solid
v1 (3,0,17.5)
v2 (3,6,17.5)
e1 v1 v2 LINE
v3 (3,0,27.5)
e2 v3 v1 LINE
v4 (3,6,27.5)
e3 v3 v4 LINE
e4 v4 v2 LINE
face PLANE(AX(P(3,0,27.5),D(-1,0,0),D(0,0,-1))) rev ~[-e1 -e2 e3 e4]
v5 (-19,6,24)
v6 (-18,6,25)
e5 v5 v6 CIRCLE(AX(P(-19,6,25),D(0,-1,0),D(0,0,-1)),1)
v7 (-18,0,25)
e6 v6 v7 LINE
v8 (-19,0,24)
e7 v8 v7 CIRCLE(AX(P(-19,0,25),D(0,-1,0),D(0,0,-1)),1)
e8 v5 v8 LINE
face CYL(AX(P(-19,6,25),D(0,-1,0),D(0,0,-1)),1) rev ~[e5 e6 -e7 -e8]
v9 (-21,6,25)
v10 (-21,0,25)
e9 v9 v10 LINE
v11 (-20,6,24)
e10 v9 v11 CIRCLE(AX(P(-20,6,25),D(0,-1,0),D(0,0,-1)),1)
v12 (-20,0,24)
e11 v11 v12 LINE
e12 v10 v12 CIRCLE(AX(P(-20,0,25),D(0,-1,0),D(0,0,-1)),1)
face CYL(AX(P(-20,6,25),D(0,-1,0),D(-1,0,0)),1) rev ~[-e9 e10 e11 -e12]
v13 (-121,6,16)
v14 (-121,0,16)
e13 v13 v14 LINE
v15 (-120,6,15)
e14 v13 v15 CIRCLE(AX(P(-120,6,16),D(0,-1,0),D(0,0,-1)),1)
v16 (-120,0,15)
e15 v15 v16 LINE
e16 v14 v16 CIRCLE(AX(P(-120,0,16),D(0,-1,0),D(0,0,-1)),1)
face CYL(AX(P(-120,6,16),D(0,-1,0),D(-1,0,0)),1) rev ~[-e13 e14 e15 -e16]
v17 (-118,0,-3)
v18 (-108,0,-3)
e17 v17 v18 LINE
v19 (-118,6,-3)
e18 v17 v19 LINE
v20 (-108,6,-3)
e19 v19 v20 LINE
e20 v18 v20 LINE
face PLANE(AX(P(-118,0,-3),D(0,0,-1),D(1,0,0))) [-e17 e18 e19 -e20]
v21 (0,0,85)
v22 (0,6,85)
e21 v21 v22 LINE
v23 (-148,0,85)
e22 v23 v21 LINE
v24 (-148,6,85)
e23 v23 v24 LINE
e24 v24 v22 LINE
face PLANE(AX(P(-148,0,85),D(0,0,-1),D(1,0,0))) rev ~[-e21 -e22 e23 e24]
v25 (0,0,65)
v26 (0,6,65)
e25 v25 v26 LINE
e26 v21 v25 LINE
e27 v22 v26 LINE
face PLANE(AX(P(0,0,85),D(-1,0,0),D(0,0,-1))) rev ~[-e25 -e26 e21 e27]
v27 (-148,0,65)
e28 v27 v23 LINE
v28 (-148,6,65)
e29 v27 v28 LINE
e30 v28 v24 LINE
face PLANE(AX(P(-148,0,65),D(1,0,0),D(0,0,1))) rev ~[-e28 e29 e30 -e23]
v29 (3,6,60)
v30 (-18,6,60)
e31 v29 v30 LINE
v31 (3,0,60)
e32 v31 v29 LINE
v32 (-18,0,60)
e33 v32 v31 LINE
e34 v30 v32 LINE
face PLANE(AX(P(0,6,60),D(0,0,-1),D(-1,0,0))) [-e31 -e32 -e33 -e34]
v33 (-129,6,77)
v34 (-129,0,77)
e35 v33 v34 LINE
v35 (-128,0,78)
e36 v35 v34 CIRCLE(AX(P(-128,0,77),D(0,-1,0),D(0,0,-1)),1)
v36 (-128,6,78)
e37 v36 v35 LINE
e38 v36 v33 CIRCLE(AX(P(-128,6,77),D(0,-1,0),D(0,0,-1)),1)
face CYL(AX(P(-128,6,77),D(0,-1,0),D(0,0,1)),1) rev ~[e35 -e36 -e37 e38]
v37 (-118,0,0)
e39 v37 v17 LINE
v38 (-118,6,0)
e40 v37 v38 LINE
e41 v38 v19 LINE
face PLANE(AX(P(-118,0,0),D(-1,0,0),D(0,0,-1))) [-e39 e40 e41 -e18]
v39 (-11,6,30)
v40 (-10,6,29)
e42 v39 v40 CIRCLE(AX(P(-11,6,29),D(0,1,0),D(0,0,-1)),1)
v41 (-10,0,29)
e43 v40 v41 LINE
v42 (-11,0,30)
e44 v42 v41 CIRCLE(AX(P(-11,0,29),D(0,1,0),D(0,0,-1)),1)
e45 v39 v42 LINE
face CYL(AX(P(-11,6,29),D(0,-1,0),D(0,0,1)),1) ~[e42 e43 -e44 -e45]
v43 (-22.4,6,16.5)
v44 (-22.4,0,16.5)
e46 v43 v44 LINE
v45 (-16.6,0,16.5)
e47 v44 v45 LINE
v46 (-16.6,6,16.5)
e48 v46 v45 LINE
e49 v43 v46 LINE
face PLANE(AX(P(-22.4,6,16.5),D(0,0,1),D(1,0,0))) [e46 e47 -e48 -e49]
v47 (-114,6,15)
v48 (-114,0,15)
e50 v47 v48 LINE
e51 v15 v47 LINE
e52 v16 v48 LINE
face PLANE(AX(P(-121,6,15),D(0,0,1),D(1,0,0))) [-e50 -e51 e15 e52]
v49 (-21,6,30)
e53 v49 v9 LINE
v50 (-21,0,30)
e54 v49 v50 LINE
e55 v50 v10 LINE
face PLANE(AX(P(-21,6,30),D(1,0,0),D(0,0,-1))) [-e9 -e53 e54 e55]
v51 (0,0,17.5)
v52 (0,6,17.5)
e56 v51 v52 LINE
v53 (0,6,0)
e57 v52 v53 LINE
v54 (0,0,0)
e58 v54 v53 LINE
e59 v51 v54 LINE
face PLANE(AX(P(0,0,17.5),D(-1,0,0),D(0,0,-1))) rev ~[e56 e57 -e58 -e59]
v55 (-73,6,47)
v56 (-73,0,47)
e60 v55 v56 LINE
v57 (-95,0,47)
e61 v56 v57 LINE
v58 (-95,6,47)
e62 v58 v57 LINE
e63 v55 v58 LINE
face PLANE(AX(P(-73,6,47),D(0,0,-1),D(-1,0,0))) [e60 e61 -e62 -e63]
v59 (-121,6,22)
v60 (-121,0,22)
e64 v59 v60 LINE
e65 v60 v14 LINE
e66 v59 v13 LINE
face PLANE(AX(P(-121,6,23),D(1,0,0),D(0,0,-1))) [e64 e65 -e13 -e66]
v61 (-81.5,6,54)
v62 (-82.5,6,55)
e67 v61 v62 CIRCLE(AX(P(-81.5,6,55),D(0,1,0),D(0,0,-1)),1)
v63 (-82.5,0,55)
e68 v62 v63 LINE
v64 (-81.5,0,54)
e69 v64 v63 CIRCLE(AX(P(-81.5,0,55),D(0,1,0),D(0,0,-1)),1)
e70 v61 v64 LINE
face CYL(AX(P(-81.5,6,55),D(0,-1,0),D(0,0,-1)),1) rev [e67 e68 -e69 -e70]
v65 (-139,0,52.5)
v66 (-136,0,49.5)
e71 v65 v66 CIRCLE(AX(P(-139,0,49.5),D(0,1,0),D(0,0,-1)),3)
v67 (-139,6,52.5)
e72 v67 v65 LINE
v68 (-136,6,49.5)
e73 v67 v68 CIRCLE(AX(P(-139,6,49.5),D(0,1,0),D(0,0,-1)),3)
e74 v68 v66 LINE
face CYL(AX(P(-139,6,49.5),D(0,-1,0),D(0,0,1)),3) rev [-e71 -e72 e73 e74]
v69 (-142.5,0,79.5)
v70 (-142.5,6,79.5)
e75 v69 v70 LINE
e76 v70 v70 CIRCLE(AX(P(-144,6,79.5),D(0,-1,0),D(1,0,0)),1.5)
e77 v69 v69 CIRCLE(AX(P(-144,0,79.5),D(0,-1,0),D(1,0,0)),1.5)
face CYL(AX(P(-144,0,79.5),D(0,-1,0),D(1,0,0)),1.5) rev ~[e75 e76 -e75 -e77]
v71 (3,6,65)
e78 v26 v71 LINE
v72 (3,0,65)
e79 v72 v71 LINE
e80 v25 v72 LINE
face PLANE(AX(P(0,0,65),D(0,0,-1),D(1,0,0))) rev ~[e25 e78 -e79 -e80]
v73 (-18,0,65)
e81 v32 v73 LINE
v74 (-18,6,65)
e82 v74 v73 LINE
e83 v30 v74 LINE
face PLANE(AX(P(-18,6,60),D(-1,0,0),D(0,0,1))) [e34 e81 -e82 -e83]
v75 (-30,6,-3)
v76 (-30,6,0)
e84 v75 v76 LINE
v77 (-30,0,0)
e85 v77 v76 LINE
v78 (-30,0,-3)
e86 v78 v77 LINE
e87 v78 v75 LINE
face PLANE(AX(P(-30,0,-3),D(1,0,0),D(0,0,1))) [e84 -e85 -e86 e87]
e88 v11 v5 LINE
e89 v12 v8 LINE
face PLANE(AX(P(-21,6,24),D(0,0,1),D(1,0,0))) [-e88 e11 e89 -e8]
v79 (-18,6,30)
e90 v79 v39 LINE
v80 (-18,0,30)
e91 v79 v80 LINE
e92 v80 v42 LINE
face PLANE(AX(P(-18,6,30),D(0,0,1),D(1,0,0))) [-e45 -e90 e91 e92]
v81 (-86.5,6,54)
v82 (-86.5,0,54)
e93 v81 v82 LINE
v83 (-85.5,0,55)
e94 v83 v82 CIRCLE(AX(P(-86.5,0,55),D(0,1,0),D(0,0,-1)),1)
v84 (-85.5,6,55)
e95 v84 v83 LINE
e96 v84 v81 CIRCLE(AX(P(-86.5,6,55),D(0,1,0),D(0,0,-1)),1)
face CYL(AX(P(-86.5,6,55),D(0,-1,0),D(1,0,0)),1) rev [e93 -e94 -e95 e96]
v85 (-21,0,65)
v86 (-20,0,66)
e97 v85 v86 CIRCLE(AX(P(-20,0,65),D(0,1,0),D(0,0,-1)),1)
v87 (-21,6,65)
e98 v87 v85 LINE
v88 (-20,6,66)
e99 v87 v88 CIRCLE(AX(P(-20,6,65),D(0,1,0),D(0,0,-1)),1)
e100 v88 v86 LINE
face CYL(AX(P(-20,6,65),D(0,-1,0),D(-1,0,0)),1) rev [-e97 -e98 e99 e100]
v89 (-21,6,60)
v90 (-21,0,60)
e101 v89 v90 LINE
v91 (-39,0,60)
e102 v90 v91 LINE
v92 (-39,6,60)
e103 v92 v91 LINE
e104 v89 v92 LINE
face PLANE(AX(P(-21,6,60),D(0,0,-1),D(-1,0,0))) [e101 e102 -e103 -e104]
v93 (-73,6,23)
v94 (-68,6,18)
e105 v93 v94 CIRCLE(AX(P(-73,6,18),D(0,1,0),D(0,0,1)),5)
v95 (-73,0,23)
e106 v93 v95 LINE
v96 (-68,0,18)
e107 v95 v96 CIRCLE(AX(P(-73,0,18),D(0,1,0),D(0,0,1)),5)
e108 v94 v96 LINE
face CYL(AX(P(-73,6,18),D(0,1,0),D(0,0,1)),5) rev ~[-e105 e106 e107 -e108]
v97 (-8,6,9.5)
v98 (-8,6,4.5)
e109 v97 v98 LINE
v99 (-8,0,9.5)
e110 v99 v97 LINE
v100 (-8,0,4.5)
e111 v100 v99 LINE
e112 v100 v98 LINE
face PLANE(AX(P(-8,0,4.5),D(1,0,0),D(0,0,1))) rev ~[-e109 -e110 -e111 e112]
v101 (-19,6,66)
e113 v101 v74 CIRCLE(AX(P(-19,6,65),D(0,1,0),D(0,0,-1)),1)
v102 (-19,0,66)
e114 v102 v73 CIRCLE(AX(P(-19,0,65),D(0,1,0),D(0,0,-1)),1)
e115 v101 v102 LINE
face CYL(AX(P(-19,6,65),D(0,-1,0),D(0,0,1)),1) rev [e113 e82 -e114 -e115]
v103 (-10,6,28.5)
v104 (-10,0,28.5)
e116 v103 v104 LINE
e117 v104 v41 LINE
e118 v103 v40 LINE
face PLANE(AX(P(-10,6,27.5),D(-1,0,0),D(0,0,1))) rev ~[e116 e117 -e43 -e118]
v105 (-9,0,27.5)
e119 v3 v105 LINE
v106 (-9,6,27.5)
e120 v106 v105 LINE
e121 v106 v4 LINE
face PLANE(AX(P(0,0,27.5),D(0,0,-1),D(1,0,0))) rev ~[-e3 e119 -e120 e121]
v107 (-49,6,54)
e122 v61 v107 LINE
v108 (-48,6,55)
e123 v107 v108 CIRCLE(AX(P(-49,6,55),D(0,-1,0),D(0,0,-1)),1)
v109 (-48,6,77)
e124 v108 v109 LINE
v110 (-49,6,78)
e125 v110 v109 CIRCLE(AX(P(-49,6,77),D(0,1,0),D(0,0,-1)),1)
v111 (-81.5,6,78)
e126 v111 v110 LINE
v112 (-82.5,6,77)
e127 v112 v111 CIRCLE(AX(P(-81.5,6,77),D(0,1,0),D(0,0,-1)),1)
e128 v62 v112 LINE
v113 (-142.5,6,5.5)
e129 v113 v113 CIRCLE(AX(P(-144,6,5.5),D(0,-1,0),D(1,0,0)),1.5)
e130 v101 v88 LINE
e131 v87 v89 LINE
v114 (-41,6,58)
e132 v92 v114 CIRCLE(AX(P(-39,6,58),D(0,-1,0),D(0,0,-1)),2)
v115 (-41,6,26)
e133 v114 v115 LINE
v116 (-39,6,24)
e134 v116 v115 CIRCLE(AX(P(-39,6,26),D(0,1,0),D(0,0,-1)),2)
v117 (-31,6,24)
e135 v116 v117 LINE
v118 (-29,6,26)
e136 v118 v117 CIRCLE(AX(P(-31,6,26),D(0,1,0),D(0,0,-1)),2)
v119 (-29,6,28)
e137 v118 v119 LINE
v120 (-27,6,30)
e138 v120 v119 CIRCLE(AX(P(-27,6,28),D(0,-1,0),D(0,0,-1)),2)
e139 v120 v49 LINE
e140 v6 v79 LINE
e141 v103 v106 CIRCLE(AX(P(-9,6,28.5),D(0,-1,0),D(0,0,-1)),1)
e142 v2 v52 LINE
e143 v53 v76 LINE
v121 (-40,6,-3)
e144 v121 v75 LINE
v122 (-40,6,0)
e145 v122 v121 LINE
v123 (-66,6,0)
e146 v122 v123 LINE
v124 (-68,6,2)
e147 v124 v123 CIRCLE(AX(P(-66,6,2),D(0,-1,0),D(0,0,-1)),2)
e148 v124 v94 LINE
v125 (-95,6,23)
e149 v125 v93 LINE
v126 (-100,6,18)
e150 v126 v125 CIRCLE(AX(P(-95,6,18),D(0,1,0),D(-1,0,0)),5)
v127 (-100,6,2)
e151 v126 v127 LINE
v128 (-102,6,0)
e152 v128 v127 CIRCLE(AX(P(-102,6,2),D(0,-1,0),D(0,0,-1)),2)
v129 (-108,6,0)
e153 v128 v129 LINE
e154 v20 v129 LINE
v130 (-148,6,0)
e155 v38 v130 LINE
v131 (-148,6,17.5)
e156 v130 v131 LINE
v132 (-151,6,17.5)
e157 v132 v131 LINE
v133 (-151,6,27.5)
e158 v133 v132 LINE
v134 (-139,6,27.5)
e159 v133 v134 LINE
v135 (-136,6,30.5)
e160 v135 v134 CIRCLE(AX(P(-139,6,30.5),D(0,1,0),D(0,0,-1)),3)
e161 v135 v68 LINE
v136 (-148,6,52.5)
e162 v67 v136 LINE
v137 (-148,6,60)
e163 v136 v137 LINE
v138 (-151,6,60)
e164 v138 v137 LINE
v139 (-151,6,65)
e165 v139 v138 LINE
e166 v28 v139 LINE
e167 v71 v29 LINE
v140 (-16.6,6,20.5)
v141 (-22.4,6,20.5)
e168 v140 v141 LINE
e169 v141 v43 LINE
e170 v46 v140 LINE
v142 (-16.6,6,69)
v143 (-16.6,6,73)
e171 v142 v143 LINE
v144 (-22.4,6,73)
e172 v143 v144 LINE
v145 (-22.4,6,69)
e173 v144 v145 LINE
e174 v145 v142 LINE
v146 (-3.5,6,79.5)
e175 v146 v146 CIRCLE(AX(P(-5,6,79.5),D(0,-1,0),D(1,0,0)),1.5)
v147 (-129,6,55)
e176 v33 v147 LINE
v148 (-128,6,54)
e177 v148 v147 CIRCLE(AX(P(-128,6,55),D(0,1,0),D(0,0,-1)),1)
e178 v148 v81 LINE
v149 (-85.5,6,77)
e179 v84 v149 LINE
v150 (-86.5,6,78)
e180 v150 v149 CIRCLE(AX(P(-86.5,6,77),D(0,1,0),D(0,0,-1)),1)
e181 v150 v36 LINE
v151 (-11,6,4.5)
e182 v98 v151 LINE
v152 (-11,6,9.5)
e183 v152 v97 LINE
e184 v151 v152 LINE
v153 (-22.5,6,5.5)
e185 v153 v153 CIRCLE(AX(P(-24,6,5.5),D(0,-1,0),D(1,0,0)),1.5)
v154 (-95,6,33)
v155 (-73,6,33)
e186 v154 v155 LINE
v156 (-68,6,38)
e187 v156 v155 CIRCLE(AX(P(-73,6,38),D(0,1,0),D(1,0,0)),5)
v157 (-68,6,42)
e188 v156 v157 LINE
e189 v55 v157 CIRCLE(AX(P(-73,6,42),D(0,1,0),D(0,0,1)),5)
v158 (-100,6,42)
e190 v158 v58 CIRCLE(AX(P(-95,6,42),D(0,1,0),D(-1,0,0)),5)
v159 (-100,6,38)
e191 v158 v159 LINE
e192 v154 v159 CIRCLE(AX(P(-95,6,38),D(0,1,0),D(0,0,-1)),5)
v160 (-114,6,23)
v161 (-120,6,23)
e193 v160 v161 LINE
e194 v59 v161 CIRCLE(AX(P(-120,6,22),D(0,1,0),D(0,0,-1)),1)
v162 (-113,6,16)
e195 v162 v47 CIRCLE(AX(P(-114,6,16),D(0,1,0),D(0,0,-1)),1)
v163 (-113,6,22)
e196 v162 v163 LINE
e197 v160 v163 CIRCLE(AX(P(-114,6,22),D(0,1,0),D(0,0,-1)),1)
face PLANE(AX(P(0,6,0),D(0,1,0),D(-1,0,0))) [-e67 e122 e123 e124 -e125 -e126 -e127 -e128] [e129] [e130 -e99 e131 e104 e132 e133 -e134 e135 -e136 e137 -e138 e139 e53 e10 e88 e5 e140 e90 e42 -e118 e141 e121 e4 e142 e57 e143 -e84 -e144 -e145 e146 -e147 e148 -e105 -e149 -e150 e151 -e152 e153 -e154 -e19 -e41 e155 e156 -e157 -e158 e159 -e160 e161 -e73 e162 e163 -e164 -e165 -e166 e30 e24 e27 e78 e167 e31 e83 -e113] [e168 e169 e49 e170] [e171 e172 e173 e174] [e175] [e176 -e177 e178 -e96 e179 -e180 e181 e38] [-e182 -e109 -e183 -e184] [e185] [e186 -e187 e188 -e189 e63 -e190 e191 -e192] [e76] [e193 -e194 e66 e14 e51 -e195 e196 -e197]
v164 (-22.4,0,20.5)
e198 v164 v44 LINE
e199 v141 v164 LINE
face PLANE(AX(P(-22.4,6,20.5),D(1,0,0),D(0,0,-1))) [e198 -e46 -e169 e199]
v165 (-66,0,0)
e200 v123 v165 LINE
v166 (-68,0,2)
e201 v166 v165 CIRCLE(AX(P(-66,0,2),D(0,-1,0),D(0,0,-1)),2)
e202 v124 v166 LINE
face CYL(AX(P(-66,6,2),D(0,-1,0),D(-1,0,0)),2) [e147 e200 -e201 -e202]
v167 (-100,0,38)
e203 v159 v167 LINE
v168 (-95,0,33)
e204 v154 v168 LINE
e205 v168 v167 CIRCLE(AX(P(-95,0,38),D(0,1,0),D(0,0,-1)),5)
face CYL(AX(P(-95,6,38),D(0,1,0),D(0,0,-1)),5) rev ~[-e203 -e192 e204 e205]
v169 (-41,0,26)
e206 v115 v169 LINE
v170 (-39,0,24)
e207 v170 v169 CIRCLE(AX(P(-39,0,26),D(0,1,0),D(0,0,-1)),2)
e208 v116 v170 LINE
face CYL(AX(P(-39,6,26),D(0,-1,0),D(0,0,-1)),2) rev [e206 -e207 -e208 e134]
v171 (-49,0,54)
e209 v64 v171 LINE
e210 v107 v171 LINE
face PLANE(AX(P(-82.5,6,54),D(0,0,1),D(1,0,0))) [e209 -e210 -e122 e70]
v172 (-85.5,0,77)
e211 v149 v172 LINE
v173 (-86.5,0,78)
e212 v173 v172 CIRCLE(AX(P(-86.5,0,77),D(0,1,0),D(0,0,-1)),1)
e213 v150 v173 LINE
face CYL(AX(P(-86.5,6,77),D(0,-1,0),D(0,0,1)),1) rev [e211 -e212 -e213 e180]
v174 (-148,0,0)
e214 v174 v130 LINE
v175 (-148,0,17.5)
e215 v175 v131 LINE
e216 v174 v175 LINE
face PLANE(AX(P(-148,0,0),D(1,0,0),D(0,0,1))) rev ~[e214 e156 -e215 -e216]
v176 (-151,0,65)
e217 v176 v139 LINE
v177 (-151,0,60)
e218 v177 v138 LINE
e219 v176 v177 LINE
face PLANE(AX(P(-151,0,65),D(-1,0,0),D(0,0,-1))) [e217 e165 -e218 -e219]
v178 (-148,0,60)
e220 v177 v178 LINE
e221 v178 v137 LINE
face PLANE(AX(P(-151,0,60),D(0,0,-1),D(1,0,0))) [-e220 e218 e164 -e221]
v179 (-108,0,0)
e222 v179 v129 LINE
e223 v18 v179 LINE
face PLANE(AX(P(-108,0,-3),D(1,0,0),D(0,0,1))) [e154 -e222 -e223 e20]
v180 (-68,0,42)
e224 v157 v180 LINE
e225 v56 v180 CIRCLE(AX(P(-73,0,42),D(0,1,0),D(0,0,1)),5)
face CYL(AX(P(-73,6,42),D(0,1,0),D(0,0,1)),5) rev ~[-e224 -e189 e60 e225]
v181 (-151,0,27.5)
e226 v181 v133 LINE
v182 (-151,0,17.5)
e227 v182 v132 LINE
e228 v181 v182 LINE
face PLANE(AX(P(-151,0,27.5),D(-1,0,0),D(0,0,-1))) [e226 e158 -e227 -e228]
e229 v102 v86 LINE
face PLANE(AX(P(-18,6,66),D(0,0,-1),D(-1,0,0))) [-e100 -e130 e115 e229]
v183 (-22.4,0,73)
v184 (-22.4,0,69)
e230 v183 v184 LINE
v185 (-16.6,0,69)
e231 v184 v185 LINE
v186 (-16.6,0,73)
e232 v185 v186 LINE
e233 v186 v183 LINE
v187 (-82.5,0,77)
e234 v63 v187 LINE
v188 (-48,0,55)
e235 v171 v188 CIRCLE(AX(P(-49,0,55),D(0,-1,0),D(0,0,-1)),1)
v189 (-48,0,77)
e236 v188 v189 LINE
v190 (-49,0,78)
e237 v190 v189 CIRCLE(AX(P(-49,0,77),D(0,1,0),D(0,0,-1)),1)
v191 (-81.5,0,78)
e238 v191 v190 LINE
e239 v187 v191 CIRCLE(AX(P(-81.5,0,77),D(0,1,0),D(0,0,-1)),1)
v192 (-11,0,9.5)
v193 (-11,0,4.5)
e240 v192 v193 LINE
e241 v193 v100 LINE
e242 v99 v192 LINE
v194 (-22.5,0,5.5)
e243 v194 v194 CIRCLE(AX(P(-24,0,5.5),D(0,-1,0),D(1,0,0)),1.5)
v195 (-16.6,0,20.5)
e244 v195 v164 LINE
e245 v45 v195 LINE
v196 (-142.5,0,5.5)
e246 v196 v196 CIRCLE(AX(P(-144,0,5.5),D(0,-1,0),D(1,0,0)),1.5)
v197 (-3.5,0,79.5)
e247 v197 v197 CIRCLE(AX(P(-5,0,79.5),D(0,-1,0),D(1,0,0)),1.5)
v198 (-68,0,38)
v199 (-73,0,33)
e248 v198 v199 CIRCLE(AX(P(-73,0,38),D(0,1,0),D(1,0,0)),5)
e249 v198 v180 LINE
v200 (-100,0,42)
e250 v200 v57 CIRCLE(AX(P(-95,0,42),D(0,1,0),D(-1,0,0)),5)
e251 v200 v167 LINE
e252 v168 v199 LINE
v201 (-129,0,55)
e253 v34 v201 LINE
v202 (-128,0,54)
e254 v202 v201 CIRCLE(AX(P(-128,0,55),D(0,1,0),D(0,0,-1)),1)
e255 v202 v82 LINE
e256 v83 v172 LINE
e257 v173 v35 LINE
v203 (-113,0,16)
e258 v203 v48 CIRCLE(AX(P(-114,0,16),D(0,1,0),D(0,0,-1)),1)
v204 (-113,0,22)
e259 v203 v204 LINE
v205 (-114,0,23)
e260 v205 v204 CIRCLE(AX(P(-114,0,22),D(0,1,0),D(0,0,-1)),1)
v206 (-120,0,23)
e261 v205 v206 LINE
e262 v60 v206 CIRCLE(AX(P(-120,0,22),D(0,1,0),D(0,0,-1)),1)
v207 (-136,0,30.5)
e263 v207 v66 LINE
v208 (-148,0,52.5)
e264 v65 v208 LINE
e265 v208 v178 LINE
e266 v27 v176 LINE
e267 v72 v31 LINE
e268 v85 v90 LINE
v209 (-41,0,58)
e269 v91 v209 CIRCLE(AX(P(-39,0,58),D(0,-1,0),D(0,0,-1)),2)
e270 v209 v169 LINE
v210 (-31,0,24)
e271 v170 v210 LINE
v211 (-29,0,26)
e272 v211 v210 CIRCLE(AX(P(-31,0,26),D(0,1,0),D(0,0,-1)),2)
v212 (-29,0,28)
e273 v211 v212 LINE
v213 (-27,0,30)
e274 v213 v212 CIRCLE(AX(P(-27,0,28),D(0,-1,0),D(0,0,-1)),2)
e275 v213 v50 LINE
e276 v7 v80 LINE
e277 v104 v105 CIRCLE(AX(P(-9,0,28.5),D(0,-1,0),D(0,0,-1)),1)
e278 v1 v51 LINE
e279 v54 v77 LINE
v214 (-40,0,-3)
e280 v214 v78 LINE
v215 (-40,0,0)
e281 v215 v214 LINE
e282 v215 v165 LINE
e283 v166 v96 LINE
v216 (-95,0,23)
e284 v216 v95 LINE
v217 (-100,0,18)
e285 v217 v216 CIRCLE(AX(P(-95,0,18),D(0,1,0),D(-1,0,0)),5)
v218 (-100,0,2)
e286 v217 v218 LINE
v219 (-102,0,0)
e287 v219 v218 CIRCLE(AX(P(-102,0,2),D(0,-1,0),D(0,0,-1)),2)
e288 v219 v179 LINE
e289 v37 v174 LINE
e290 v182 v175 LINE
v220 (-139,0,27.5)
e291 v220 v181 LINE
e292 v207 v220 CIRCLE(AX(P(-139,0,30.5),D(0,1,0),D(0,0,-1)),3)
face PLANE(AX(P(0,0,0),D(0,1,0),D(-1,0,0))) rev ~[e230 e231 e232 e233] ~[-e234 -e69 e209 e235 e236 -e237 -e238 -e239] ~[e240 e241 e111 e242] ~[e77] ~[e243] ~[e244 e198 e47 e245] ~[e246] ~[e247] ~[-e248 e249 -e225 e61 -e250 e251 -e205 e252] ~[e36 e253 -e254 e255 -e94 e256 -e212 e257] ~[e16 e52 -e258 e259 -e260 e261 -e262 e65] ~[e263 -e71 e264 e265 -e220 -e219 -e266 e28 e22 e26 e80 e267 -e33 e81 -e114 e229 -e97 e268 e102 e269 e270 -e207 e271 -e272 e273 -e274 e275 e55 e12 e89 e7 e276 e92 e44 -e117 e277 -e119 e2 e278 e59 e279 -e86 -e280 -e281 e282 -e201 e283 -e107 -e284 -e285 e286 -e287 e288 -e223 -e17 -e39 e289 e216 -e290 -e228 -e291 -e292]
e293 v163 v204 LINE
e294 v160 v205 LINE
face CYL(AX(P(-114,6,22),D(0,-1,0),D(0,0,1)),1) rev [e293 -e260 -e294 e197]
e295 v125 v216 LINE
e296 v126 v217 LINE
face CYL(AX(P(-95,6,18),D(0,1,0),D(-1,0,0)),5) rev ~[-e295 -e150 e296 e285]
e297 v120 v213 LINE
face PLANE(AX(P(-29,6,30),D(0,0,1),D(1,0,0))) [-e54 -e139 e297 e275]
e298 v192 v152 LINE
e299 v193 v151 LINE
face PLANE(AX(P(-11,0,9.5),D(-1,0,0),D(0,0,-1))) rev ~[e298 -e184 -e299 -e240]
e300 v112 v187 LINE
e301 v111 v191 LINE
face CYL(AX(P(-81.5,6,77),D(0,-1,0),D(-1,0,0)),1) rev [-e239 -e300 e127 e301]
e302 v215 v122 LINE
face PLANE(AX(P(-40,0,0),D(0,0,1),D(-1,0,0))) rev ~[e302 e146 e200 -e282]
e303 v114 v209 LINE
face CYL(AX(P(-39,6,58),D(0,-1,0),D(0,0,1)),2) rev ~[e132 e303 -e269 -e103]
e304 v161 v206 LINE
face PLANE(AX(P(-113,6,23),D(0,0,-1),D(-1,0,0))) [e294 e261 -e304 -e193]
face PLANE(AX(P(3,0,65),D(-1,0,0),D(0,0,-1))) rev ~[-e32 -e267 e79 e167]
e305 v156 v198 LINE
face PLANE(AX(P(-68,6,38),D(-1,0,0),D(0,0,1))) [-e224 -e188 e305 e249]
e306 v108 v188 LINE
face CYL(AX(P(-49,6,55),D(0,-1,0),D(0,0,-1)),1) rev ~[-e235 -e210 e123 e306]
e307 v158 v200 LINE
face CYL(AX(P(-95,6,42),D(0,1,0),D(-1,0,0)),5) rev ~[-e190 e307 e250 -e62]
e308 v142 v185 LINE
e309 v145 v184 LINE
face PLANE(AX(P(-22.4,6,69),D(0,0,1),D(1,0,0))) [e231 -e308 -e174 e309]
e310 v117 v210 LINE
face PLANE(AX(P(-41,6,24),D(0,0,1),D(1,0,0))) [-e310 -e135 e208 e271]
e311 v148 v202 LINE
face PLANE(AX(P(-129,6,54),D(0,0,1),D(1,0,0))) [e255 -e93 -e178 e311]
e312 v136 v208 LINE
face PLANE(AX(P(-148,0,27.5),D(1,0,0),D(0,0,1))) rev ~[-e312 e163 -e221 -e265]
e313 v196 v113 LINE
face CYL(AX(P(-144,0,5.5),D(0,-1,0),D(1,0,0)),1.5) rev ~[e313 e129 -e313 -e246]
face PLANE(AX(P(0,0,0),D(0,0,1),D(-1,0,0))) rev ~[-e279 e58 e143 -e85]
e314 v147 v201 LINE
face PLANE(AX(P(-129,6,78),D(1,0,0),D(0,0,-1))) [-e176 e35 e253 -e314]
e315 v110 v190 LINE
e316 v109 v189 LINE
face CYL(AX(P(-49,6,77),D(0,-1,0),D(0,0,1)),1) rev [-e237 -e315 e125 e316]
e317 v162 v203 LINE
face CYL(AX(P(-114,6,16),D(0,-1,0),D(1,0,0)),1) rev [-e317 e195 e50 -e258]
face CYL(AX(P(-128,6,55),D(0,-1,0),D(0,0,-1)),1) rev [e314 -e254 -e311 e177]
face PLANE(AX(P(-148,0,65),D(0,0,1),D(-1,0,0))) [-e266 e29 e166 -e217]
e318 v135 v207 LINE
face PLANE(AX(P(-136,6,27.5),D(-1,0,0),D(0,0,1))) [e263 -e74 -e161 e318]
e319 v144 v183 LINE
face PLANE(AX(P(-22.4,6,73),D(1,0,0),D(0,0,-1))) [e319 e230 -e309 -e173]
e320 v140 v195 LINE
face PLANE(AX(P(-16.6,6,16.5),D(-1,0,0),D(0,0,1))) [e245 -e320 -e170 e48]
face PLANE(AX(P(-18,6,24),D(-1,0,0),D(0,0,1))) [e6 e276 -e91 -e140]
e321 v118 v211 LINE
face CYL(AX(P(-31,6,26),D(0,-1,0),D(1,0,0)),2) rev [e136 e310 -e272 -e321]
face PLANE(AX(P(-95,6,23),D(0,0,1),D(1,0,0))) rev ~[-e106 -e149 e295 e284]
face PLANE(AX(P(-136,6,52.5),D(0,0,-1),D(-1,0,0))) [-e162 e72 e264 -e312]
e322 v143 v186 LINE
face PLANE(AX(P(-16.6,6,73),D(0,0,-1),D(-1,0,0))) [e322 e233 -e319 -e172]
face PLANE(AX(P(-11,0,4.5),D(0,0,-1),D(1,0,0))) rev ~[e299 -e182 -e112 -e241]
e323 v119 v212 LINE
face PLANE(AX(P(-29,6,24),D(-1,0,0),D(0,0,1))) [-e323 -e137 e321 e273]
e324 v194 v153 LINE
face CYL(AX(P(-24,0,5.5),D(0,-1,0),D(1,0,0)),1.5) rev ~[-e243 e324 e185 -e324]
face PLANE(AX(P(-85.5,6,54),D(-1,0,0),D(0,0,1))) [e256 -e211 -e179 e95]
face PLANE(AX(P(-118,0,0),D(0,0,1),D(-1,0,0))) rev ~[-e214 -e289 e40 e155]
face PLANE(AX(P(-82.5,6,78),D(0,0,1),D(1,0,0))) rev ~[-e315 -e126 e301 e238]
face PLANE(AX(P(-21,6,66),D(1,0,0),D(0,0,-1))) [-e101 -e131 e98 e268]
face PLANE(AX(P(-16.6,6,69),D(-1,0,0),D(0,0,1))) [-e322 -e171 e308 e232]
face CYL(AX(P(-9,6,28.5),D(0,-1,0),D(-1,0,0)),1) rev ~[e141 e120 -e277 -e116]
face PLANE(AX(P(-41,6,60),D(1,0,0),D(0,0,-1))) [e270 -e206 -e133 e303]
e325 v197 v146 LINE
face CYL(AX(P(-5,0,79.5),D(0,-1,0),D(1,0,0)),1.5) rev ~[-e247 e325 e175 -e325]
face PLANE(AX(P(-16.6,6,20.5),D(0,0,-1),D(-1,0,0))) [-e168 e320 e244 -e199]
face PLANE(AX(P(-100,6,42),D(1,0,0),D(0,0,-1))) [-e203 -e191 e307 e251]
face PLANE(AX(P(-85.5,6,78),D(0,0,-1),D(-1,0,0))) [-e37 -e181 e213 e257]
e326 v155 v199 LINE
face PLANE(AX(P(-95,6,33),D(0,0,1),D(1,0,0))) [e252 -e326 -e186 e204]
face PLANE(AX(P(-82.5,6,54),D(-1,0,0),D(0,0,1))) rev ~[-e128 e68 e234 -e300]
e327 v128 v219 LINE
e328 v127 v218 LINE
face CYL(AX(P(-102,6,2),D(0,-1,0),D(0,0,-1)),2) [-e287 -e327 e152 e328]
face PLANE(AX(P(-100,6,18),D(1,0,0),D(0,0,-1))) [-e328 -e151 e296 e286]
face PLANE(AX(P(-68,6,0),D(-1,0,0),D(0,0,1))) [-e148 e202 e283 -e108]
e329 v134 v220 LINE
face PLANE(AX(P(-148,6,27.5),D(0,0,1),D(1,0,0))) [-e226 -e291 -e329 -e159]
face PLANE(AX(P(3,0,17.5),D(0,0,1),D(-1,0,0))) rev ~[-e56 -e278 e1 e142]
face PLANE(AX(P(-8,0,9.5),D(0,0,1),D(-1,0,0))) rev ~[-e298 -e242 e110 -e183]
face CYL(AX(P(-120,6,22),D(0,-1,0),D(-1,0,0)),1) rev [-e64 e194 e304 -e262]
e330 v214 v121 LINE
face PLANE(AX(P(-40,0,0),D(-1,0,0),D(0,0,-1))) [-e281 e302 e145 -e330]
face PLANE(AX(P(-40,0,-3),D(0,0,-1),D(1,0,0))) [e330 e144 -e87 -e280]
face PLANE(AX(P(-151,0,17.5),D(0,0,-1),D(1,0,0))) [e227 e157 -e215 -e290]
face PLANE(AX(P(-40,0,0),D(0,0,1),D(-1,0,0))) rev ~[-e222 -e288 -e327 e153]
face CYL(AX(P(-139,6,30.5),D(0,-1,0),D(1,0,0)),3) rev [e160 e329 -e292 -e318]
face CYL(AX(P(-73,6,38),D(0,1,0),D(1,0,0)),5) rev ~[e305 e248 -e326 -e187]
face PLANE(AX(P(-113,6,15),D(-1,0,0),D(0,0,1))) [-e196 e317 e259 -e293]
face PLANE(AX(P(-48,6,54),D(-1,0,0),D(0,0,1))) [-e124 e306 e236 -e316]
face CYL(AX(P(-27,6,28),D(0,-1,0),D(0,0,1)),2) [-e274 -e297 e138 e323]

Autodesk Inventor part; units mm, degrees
ref_plane "YZ Plane" through (0, 0, 0) normal (1, 0, 0) x (0, 1, 0)
ref_plane "XZ Plane" through (0, 0, 0) normal (0, 1, 0) x (-1, 0, 0)
ref_plane "XY Plane" through (0, 0, 0) normal (0, 0, 1) x (1, 0, 0)
sketch "Sketch1" plane through (0, 0, 0) normal (0, 1, 0) x (-1, 0, 0)
  line L0 (148, 85) -> (0, 85)
  line L1 (0, 65) -> (-3, 65)
  line L2 (-3, 65) -> (-3, 60)
  line L3 (-3, 60) -> (0, 60)
  line L4 (0, 40) -> (148, 40) construction
  line L5 (0, 27.5) -> (-3, 27.5)
  line L6 (-3, 27.5) -> (-3, 17.5)
  line L7 (-3, 17.5) -> (0, 17.5)
  line L8 (148, 65) -> (151, 65)
  line L9 (151, 65) -> (151, 60)
  line L10 (151, 60) -> (148, 60)
  line L11 (148, 27.5) -> (151, 27.5)
  line L12 (151, 27.5) -> (151, 17.5)
  line L13 (151, 17.5) -> (148, 17.5)
  line L14 (148, 65) -> (148, 85)
  line L15 (148, 0) -> (148, 17.5)
  line L16 (148, 27.5) -> (148, 60)
  line L17 (0, 85) -> (0, 65)
  line L18 (0, 60) -> (0, 27.5)
  line L19 (0, 17.5) -> (0, 0)
  line L20 (40, 0) -> (40, -3)
  line L21 (40, -3) -> (30, -3)
  line L22 (30, -3) -> (30, 0)
  line L23 (118, 0) -> (118, -3)
  line L24 (118, -3) -> (108, -3)
  line L25 (108, -3) -> (108, 0)
  line L26 (0, 0) -> (30, 0)
  line L27 (40, 0) -> (108, 0)
  line L28 (118, 0) -> (148, 0)
  dimension "d0" = 85
  dimension "ChassisLength" = 148
  dimension "L2" = 20
  dimension "d6" = 3
  dimension "L1" = 12.5
  dimension "L3" = 20
  dimension "d41" = 10
  dimension "d42" = 3
  dimension "d44" = 30
  dimension "Small" = 5
  dimension "Large" = 10
extrude "Extrusion1" add sketch "Sketch1" along normal blind 6
sketch "Sketch3" plane through (0, 6, 0) normal (0, 1, 0) x (1, 0, 0)
  line L0 (-148, -85) -> (0, -85) projected
  line L1 (0, 0) -> (-148, 0) projected
  line L2 (-73, -47) -> (-95, -47)
  arc A0 (-73, -47) -> (-68, -42) centre (-73, -42) ccw
  arc A1 (-100, -42) -> (-95, -47) centre (-95, -42) ccw
  line L3 (0, -17.5) -> (0, 0) projected
  line L4 (-108, 0) -> (-108, 3) projected
  line L5 (-68, 0) -> (-100, 0)
  line L6 (-95, -33) -> (-73, -33)
  line L7 (-95, -23) -> (-73, -23)
  line L8 (-100, -42) -> (-100, -38)
  line L9 (-100, -18) -> (-100, 0)
  line L10 (-68, 0) -> (-68, -18)
  line L11 (-68, -38) -> (-68, -42)
  arc A2 (-95, -33) -> (-100, -38) centre (-95, -38) ccw
  arc A3 (-68, -38) -> (-73, -33) centre (-73, -38) ccw
  arc A4 (-100, -18) -> (-95, -23) centre (-95, -18) ccw
  arc A5 (-73, -23) -> (-68, -18) centre (-73, -18) ccw
  line L12 (-148, 0) -> (-148, -17.5) projected
  point P0 (0, -6)
  point P1 (-123, 0)
  dimension "d34" = 38
  dimension "d131" = 5
  dimension "d144" = 33
  dimension "d145" = 10
  dimension "d146" = 5
  dimension "d147" = 5
  dimension "d149" = 32
  dimension "d150" = 5
  dimension "d173" = 48
sketch "Sketch10" plane through (0, 6, 0) normal (0, 1, 0) x (1, 0, 0)
  line L0 (0.0037, -40) -> (-151, -40) construction
  line L1 (0, -27.5) -> (3, -27.5) projected
  line L2 (0, -27.5) -> (0, -60)
  line L3 (0, -60) -> (0, -27.5) projected
  line L4 (0, -60) -> (-18, -60)
  line L5 (-18, -60) -> (-18, -66)
  line L6 (-18, -66) -> (-21, -66)
  line L7 (-21, -66) -> (-21, -60)
  line L8 (-21, -60) -> (-41, -60)
  line L9 (-41, -60) -> (-41, -24)
  line L10 (-41, -24) -> (-29, -24)
  line L11 (-29, -24) -> (-29, -30)
  line L12 (-29, -30) -> (-21, -30)
  line L13 (-21, -30) -> (-21, -24)
  line L14 (-21, -24) -> (-18, -24)
  line L15 (-18, -24) -> (-18, -30)
  line L16 (0, -27.5) -> (-10, -27.5)
  line L17 (-10, -27.5) -> (-10, -30)
  line L18 (-18, -30) -> (-10, -30)
  line L19 (-22.4, -16.5) -> (-16.6, -16.5)
  line L20 (-16.6, -16.5) -> (-16.6, -20.5)
  line L21 (-16.6, -20.5) -> (-22.4, -20.5)
  line L22 (-22.4, -20.5) -> (-22.4, -16.5)
  line L23 (-22.4, -69) -> (-16.6, -69)
  line L24 (-16.6, -69) -> (-16.6, -73)
  line L25 (-16.6, -73) -> (-22.4, -73)
  line L26 (-22.4, -73) -> (-22.4, -69)
  line L27 (-148, -27.5) -> (-136, -27.5)
  line L28 (-136, -27.5) -> (-136, -52.5)
  line L29 (-136, -52.5) -> (-148, -52.5)
  line L30 (-148, -52.5) -> (-148, -27.5)
  line L31 (-148, -60) -> (-151, -60) projected
  point P0 (0, 0)
  point P1 (-151, -27.5)
  point P2 (-19.5, -20.5)
  point P3 (-19.5, -24)
  point P4 (-136, -40)
  dimension "d158" = 12.5
  dimension "d159" = 41
  dimension "d160" = 18
  dimension "d161" = 6
  dimension "d162" = 3
  dimension "d163" = 10
  dimension "d164" = 10
  dimension "d165" = 8
  dimension "d167" = 5.8
  dimension "d168" = 4
  dimension "ServoMount" = 48.5
  dimension "d170" = 3.5
  dimension "d182" = 12
  dimension "d184" = 20
extrude "Extrusion10" cut sketch "Sketch10" against normal through all
sketch "Sketch7" plane through (0, 0, 0) normal (0, -1, 0) x (1, 0, 0)
  line L0 (0, 85) -> (-148, 85) projected
  circle A0 centre (-144, 79.5) radius 1.5
  circle A1 centre (-144, 5.5) radius 1.5
  circle A2 centre (-5, 79.5) radius 1.5
  circle A3 centre (-24, 5.5) radius 1.5
  line L1 (0, 85) -> (0, 65) projected
  dimension "d84" = 3
  dimension "d88" = 3
  dimension "d89" = 74
  dimension "d90" = 3
  dimension "d91" = 139
  dimension "d92" = 3
  dimension "d93" = 19
  dimension "d133" = 5
  dimension "d134" = 5.5
extrude "Extrusion6" cut sketch "Sketch7" against normal through all
extrude "Extrusion8" cut sketch "Sketch3" against normal through all
fillet "Fillet10" radius 2 2 edges at (-68, 3, 0) (-100, 3, 0)
fillet "Fillet11" radius 2 4 edges at (-41, 3, 60) (-41, 3, 24) (-29, 3, 24) (-29, 3, 30)
fillet "Fillet12" radius 1 6 edges at (-21, 3, 24) (-21, 3, 66) (-18, 3, 66) (-18, 3, 24) (-10, 3, 30) (-10, 3, 27.5)
sketch "Sketch11" plane through (0, 6, 0) normal (0, 1, 0) x (1, 0, 0)
  line L0 (-121, -15) -> (-113, -15)
  line L1 (-113, -15) -> (-113, -23)
  line L2 (-113, -23) -> (-121, -23)
  line L3 (-121, -23) -> (-121, -15)
  line L4 (-73, -23) -> (-95, -23) projected
  line L5 (-118, 3) -> (-118, 0) projected
  point P0 (0, 0)
  dimension "d176" = 8
  dimension "d177" = 8
  dimension "d178" = 5
extrude "Extrusion11" cut sketch "Sketch11" against normal through all
fillet "Fillet13" radius 1 4 edges at (-121, 3, 15) (-113, 3, 15) (-113, 3, 23) (-121, 3, 23)
fillet "Fillet14" radius 3 2 edges at (-136, 3, 27.5) (-136, 3, 52.5)
sketch "Sketch12" plane through (0, 0, 0) normal (0, -1, 0) x (1, 0, 0)
  line L0 (-148, 85) -> (0, 85) projected
  line L1 (-41, 58) -> (-41, 26) projected
  line L2 (-136, 49.5) -> (-136, 30.5) projected
  line L3 (-11, 4.5) -> (-8, 4.5)
  line L4 (-8, 4.5) -> (-8, 9.5)
  line L5 (-8, 9.5) -> (-11, 9.5)
  line L6 (-11, 9.5) -> (-11, 4.5)
  circle A0 centre (-5, 79.5) radius 1.5 projected
  circle A1 centre (-24, 5.5) radius 1.5 projected
  line L7 (-66, 0) -> (-40, 0) projected
  point P0 (0, 0)
  dimension "d190" = 3
  dimension "d191" = 5
  dimension "d192" = 3
  dimension "d269" = 1
extrude "Extrusion12" cut sketch "Sketch12" against normal through all
sketch "Sketch13" plane through (0, 6, 0) normal (0, 1, 0) x (1, 0, 0)
  line L0 (-48, -54) -> (-48, -78)
  line L1 (-129, -78) -> (-129, -54)
  line L2 (-41, -26) -> (-41, -58) projected
  line L3 (-136, -30.5) -> (-136, -49.5) projected
  line L4 (-73, -47) -> (-95, -47) projected
  line L5 (-148, -85) -> (0, -85) projected
  line L6 (-129, -54) -> (-85.5, -54)
  line L7 (-84, -54) -> (-84, -78) construction
  line L8 (-85.5, -54) -> (-85.5, -78)
  line L9 (-82.5, -54) -> (-82.5, -78)
  line L10 (-82.5, -54) -> (-48, -54)
  line L11 (-85.5, -78) -> (-129, -78)
  line L12 (-82.5, -78) -> (-48, -78)
  line L13 (-85.5, -54) -> (-82.5, -54) construction
  point P0 (0, 0)
  point P1 (-84, -47)
  dimension "d201" = 7
  dimension "d203" = 7
  dimension "d266" = 7
  dimension "d267" = 7
  dimension "d268" = 3
extrude "Extrusion13" cut sketch "Sketch13" against normal through all
fillet "Fillet16" radius 1 8 edges at (-48, 3, 54) (-48, 3, 78) (-129, 3, 54) (-129, 3, 78) (-82.5, 3, 54) (-82.5, 3, 78) (-85.5, 3, 78) (-85.5, 3, 54)
properties part number "Electronics Chassis Main 6mm"
